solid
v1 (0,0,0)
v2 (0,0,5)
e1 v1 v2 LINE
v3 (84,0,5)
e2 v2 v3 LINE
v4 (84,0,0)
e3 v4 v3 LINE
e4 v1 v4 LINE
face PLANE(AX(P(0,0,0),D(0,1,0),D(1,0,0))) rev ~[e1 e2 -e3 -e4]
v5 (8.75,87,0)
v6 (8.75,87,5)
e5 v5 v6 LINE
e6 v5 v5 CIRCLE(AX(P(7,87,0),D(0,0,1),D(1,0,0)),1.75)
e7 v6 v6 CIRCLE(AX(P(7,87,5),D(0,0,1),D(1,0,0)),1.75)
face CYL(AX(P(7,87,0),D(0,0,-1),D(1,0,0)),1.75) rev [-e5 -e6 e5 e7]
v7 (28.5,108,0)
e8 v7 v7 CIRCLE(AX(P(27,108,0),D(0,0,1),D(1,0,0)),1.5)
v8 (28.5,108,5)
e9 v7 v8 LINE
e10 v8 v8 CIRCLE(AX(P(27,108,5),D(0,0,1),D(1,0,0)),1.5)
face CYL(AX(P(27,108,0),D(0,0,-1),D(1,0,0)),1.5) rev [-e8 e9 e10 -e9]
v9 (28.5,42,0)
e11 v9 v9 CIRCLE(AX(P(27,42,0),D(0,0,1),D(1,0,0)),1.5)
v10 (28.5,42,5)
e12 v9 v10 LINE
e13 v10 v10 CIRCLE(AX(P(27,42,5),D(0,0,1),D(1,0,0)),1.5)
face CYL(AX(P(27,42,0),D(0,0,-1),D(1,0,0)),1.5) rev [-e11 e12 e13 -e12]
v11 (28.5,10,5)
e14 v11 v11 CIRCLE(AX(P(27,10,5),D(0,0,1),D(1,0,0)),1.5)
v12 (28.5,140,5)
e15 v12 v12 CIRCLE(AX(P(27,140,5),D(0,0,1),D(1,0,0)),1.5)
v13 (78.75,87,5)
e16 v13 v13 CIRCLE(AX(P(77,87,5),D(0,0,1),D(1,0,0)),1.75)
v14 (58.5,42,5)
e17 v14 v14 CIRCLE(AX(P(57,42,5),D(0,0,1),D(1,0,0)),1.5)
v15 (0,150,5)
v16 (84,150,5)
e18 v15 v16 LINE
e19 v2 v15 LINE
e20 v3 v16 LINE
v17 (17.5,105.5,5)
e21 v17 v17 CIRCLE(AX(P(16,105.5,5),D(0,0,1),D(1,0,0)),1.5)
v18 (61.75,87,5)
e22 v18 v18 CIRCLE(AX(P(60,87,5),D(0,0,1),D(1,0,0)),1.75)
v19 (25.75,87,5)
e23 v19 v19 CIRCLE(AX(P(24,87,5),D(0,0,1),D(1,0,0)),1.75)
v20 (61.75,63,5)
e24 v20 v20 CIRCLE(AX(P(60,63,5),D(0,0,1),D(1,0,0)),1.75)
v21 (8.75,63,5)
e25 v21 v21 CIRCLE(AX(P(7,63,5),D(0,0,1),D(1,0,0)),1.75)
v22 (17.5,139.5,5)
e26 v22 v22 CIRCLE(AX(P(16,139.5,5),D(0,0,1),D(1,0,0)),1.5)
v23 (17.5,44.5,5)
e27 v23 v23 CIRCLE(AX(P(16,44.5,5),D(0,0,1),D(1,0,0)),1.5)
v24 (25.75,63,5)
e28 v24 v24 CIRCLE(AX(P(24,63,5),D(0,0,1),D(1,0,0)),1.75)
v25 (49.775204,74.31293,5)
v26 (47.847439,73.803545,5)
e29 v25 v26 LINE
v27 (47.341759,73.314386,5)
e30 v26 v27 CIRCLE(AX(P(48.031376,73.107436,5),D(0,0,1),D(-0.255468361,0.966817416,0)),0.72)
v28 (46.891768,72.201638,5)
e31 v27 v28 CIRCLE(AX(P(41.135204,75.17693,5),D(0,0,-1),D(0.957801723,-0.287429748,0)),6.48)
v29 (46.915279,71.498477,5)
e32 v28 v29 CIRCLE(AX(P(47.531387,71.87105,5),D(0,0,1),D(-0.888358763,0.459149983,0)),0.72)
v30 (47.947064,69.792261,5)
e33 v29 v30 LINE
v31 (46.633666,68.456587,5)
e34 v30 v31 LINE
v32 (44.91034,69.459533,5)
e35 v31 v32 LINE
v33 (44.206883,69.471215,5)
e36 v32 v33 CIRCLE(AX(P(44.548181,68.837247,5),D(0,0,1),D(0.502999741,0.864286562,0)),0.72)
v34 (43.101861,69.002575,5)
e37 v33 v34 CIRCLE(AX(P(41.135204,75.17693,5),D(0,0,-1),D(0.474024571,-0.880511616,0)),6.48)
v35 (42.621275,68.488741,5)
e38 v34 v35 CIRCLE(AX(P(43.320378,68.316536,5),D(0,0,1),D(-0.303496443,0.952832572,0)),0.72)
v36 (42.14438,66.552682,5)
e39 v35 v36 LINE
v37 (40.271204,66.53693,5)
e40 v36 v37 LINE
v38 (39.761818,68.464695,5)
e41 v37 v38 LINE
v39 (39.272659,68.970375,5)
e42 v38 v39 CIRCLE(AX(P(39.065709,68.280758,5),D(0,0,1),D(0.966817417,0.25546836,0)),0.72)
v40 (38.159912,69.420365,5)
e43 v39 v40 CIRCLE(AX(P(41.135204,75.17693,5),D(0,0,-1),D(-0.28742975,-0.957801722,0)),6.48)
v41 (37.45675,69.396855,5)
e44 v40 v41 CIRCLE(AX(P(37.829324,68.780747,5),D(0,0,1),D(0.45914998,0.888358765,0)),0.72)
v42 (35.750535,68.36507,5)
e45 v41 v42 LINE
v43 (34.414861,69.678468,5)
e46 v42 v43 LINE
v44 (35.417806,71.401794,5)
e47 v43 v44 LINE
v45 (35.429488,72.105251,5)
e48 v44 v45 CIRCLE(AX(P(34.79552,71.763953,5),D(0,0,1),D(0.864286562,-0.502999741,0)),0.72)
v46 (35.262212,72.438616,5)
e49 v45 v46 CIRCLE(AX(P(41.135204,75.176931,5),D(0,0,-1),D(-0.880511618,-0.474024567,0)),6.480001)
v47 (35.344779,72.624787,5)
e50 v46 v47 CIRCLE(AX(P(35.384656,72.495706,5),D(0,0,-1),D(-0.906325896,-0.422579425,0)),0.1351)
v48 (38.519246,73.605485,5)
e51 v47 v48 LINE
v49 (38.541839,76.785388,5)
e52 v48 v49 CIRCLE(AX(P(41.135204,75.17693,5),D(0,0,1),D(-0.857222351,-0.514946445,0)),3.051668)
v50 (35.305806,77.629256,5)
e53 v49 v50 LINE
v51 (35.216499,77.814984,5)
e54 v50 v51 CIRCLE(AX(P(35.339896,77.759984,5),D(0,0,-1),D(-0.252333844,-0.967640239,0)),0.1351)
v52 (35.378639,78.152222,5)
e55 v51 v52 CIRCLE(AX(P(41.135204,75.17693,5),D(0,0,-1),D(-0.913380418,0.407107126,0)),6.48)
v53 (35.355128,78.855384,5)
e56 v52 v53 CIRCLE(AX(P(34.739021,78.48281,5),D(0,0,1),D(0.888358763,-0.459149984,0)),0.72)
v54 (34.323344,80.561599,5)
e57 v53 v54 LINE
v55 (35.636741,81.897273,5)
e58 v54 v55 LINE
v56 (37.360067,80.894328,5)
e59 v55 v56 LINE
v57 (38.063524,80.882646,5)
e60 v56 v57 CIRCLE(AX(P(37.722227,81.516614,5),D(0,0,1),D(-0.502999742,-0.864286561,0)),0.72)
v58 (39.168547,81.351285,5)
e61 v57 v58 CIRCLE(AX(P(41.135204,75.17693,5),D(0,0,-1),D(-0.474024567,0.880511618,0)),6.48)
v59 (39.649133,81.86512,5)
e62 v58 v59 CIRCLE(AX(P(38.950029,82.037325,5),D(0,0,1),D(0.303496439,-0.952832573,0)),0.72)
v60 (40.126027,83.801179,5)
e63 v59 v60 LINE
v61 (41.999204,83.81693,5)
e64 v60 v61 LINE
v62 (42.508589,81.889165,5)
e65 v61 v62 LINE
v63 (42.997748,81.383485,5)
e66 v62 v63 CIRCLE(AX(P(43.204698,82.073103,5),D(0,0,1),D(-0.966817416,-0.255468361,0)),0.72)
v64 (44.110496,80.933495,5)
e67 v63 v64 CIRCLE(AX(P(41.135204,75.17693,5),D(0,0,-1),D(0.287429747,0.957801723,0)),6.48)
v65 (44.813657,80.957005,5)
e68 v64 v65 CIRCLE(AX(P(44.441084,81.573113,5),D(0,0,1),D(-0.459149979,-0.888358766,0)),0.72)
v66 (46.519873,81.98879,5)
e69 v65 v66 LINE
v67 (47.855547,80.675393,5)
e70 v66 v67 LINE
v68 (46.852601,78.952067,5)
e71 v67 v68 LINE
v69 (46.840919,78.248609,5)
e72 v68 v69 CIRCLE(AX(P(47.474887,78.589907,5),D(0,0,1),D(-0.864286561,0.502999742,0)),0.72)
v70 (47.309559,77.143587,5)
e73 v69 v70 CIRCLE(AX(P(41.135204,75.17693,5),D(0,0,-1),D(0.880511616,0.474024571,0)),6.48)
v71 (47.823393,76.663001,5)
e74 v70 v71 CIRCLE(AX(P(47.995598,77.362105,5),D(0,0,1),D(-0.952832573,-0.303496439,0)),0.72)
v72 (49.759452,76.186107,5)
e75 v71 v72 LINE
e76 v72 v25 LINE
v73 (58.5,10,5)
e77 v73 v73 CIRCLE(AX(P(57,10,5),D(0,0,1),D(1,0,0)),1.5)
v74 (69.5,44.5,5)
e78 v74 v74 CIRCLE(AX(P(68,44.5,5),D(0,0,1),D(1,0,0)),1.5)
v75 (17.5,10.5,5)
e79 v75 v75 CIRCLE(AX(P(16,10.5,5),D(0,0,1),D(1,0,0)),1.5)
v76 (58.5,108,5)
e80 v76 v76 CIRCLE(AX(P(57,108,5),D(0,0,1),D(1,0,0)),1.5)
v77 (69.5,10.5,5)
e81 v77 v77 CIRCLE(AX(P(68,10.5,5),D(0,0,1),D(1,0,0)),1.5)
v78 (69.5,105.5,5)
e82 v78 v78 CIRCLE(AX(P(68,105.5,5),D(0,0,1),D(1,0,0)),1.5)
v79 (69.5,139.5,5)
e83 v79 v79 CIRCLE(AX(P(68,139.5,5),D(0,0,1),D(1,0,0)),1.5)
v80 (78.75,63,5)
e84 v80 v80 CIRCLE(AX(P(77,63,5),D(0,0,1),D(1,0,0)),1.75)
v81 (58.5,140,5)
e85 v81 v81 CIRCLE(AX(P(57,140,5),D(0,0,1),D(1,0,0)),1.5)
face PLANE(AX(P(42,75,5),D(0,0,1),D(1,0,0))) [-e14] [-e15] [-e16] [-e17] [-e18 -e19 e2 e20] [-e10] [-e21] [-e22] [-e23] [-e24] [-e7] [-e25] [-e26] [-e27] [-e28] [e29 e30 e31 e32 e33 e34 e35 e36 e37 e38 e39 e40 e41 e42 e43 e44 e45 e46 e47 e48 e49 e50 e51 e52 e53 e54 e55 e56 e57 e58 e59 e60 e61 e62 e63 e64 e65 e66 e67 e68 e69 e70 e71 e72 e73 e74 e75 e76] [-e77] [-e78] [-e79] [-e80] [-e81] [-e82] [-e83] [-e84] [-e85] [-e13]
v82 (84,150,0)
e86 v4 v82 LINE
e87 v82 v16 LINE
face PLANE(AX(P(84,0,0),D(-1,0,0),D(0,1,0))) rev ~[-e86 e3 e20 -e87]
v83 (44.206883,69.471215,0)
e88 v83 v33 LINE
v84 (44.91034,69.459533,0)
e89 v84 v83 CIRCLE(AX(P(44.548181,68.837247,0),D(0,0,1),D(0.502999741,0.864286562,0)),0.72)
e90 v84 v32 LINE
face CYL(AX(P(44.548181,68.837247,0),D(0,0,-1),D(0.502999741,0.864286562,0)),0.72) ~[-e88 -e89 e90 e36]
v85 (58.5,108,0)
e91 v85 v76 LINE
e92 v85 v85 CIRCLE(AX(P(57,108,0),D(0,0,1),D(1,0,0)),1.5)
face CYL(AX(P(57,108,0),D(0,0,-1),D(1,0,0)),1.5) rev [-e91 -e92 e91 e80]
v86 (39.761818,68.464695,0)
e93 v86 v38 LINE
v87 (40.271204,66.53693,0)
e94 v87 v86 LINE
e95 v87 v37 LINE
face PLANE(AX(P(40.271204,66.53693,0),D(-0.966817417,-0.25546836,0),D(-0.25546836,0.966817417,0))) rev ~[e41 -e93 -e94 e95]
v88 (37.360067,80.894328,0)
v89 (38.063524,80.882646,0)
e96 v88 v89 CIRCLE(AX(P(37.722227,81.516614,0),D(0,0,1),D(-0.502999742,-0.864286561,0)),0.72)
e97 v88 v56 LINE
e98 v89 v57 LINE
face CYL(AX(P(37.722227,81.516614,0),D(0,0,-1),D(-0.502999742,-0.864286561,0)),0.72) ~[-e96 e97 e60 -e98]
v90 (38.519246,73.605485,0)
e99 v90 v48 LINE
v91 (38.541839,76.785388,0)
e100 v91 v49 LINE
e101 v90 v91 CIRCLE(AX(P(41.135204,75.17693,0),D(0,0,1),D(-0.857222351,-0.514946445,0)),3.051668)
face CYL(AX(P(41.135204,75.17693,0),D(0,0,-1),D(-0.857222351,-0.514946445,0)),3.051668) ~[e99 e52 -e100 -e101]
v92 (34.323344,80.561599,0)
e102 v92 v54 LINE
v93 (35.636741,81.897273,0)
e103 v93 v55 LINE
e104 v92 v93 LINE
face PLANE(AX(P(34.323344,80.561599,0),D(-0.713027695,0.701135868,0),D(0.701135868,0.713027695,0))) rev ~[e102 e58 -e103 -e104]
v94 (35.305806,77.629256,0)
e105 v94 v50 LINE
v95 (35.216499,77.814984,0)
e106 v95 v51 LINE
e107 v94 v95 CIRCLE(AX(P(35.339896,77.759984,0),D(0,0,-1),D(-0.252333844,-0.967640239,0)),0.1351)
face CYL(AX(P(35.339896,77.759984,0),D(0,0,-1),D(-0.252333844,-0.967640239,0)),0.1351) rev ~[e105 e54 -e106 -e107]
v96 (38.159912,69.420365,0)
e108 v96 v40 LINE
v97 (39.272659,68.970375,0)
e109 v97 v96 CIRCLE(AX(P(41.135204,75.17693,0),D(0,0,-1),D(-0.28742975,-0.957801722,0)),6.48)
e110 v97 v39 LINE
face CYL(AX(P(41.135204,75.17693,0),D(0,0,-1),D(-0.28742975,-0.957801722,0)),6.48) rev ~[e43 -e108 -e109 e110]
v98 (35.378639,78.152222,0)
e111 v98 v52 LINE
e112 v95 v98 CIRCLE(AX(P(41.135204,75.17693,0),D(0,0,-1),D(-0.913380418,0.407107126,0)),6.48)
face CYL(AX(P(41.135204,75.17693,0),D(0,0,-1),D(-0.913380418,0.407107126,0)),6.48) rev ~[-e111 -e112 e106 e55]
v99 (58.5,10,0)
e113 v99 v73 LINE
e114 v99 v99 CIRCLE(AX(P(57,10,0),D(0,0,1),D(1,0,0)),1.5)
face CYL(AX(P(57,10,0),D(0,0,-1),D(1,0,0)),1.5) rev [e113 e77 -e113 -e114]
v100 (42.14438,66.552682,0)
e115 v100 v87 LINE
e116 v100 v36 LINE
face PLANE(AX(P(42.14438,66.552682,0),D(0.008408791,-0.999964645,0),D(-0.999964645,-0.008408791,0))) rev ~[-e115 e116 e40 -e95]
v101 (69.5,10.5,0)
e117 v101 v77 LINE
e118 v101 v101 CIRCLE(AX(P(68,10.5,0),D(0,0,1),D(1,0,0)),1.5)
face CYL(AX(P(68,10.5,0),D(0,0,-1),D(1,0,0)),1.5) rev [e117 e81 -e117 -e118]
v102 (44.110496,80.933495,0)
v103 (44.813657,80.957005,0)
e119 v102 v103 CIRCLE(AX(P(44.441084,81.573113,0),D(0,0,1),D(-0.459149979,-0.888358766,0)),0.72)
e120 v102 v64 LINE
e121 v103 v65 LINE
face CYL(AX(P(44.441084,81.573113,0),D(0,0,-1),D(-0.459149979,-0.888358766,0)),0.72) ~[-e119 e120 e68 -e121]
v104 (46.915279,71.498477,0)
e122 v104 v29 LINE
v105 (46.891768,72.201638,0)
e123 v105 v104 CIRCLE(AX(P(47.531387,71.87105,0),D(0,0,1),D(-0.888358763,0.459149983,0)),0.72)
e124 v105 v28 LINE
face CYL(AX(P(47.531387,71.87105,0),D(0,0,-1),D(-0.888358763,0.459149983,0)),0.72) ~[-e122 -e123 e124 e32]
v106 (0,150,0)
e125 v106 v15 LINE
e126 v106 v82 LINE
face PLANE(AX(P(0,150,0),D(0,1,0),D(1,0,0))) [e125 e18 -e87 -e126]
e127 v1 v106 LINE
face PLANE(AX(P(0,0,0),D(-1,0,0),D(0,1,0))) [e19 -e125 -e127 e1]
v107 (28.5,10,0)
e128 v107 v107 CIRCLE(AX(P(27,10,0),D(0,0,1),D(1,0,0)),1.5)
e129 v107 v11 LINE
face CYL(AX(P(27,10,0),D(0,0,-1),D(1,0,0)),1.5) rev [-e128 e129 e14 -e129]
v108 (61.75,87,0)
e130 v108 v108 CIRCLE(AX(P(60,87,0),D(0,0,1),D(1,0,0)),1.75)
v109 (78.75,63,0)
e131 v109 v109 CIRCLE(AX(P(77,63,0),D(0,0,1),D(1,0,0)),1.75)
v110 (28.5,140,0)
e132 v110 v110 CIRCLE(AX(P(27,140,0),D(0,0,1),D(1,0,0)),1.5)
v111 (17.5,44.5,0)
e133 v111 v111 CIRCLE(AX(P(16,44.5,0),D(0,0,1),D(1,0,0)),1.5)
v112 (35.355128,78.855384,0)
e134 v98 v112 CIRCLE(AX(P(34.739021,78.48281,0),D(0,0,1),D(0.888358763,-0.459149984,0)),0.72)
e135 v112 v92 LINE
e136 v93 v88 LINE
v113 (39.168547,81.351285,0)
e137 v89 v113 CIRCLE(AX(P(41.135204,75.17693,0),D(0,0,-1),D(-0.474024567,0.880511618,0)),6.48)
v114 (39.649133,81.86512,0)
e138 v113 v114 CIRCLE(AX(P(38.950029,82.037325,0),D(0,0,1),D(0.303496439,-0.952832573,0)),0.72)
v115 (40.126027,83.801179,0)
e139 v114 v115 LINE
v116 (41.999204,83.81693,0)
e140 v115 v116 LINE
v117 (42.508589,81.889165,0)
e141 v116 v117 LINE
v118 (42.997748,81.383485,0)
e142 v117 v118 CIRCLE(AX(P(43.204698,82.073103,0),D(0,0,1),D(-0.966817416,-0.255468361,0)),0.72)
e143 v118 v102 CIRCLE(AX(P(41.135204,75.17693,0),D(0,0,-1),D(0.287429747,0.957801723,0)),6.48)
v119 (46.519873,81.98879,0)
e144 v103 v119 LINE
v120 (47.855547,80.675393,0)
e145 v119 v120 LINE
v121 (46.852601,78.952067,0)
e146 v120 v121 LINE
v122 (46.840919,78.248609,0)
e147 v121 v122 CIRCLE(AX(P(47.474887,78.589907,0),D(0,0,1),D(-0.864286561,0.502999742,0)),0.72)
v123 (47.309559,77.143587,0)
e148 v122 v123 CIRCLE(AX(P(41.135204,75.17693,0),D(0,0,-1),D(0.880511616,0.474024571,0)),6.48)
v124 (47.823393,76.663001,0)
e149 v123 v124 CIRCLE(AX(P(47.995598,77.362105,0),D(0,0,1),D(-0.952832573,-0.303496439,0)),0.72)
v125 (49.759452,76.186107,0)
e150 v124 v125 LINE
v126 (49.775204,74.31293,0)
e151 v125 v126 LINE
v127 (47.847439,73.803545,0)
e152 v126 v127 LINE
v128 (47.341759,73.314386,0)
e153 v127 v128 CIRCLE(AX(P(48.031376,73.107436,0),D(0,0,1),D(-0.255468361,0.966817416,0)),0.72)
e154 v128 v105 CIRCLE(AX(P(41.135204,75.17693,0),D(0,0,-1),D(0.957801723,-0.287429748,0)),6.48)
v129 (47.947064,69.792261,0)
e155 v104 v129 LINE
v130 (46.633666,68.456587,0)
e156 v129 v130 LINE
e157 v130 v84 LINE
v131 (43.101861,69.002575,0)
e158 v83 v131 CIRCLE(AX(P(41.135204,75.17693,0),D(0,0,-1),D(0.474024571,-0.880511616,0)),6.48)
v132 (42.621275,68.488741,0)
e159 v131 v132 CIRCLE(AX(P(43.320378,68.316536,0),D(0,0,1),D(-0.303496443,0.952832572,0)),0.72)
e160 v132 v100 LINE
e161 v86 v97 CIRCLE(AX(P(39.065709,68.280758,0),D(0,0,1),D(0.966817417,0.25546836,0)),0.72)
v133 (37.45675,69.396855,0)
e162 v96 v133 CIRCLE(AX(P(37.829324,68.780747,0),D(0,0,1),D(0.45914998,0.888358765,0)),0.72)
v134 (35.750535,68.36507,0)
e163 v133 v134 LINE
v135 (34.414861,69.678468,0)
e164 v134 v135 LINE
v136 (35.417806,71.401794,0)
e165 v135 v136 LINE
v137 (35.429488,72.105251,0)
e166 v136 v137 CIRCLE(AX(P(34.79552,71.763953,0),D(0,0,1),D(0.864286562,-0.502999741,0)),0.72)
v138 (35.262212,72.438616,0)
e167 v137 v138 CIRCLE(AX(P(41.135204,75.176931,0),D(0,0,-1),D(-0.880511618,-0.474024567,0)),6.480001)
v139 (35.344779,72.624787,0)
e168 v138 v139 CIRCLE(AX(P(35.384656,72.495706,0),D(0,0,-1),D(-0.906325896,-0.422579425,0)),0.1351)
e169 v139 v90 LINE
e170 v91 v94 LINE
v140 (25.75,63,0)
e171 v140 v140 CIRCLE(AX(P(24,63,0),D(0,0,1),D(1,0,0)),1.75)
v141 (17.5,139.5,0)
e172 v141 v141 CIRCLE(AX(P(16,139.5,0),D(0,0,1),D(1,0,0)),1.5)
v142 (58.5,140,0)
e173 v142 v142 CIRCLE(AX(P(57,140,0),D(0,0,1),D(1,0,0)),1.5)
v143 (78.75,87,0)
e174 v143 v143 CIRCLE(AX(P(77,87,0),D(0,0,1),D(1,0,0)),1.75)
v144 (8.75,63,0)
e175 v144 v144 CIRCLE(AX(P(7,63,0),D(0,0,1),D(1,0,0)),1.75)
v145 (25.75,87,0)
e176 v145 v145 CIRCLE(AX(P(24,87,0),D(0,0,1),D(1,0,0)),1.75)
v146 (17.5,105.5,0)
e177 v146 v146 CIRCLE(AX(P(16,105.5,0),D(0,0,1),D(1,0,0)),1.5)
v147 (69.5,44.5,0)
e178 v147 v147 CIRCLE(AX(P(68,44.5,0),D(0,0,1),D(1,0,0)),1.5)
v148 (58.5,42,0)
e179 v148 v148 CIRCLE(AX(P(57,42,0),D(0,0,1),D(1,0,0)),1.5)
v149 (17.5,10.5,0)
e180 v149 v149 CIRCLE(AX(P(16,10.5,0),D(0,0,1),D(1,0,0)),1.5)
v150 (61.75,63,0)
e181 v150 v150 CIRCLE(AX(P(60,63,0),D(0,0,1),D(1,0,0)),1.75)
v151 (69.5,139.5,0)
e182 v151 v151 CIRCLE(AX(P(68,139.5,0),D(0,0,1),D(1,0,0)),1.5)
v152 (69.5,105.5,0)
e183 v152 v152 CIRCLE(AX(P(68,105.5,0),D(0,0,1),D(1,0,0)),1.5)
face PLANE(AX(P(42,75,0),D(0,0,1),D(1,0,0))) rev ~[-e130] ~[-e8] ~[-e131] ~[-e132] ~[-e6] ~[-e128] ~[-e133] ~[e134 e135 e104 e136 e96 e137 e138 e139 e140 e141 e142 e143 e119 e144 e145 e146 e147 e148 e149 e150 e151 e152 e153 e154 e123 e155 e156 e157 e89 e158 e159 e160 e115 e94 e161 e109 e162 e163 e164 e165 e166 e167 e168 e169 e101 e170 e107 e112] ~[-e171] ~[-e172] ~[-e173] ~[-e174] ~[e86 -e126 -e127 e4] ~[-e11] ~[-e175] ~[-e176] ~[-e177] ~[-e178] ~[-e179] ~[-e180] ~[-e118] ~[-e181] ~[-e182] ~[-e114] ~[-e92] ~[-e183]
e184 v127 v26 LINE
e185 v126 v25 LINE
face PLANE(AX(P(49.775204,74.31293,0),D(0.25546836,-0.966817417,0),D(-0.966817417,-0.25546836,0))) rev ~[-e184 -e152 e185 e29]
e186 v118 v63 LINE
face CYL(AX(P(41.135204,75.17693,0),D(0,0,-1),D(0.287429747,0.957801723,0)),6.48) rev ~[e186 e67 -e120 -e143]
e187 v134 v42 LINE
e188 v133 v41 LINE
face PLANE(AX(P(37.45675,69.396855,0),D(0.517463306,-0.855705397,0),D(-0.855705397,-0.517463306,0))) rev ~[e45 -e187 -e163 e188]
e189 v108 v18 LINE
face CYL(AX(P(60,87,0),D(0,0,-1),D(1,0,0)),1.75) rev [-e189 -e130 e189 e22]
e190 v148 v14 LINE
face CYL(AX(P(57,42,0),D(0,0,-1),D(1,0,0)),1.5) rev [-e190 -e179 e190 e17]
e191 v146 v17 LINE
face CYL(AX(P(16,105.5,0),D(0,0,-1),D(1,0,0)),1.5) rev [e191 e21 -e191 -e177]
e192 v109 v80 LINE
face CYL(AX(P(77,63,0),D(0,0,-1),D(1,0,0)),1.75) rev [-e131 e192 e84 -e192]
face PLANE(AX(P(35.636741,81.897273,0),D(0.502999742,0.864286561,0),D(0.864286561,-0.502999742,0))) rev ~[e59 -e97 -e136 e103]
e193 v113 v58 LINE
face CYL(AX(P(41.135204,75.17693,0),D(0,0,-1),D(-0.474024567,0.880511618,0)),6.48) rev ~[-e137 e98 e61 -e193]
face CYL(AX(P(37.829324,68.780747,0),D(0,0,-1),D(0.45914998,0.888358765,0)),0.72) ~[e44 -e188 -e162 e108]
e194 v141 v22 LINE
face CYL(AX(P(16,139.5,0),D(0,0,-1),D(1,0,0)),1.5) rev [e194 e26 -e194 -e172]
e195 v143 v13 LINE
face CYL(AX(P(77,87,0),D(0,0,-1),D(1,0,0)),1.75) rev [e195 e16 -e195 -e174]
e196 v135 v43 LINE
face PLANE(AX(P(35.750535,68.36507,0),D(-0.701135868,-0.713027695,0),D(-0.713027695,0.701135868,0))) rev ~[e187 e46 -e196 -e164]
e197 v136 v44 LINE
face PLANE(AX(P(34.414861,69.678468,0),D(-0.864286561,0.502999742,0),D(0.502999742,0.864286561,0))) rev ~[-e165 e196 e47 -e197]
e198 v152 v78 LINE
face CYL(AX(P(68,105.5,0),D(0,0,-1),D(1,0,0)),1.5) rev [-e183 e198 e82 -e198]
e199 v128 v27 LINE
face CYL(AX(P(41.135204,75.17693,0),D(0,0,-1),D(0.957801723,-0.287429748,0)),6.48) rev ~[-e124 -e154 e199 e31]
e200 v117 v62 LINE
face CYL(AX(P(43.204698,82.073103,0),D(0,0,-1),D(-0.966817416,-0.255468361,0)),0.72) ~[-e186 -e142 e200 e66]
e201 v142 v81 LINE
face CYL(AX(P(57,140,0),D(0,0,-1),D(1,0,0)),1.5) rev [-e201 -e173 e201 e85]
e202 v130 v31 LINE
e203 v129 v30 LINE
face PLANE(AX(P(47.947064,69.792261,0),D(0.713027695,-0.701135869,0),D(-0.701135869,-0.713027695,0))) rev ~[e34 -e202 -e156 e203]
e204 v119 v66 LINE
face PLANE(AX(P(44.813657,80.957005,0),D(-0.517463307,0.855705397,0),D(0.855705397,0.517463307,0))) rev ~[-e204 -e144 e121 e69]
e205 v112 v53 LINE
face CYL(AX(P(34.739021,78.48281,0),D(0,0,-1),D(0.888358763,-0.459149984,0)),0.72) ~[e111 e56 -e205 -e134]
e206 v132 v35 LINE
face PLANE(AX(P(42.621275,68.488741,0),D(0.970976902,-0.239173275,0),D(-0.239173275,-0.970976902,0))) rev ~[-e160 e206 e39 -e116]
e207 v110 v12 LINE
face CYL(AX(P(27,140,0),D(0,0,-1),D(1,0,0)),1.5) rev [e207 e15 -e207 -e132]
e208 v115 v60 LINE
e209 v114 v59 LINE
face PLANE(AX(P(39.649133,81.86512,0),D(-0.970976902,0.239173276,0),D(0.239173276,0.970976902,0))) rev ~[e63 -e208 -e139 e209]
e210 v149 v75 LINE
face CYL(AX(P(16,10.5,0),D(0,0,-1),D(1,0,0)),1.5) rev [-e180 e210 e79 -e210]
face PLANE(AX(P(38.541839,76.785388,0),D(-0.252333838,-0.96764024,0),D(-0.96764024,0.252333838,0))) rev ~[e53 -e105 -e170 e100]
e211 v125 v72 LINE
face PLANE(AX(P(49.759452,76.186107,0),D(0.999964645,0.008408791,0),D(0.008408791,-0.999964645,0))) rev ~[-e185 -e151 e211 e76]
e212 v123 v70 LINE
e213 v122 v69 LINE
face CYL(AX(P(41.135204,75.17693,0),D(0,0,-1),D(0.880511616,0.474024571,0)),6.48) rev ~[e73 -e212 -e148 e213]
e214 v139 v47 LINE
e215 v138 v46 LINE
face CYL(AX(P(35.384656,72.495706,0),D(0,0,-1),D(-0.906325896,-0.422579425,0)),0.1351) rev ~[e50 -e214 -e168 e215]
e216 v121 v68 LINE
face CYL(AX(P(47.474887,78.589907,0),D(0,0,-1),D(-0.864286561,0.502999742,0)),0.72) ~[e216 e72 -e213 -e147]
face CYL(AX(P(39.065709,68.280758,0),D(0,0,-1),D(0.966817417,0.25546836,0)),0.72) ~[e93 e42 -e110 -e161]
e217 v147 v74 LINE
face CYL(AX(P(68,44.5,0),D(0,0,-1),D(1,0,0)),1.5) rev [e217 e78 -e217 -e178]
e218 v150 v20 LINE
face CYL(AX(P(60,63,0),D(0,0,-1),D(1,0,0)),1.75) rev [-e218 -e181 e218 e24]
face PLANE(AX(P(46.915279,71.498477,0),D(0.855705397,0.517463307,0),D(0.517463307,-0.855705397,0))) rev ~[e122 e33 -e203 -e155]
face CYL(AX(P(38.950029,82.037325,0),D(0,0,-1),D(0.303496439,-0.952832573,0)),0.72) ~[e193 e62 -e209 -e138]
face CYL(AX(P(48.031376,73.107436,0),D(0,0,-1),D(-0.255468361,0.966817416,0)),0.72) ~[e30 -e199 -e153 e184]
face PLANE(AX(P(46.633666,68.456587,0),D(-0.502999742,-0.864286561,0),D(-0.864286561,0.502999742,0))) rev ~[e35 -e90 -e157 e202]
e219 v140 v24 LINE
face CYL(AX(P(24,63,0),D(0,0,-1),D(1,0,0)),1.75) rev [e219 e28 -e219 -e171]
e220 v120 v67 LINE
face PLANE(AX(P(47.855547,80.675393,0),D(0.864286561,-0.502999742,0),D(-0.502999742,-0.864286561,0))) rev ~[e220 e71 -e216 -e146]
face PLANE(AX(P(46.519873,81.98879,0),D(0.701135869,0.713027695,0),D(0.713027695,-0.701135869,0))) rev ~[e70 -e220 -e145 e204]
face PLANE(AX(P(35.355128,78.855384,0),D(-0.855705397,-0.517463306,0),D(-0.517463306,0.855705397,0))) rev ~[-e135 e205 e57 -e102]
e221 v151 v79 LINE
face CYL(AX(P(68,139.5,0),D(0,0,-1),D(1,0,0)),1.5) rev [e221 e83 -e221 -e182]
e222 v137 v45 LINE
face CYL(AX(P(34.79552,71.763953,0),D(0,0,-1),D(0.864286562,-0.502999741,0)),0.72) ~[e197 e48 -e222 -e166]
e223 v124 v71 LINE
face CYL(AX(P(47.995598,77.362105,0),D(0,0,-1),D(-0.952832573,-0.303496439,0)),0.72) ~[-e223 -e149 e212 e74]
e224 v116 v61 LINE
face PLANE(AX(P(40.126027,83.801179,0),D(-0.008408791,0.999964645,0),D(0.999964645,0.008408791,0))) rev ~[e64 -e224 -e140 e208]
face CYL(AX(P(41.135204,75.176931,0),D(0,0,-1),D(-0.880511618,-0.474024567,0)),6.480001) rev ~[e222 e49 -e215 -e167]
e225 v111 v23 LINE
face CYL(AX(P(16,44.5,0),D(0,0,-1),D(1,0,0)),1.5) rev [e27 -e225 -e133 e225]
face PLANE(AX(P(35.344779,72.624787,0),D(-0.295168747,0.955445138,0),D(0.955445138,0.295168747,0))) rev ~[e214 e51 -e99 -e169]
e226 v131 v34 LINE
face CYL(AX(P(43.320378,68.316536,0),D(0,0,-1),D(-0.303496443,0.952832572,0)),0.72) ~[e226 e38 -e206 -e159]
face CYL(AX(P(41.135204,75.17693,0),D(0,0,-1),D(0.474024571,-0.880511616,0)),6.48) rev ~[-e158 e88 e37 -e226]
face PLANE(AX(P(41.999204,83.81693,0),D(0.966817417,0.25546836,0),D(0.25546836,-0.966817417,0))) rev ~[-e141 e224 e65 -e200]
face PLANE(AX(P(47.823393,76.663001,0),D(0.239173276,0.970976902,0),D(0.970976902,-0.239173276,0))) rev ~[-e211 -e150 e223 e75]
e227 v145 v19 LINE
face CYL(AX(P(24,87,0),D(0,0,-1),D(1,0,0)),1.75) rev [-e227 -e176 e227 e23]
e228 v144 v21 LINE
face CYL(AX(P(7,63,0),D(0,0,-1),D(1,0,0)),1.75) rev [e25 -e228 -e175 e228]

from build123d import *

# Parameters (mm, degrees)
CROQUIS1_W              = 84
CROQUIS1_H              = 150
CROQUIS1_R              = 1.5
CROQUIS1_R_2            = 1.75
SALIENTE_EXTRUIR1_DEPTH = 5


with BuildPart() as part:
    # Croquis1 → Saliente-Extruir1 (new body)
    with BuildSketch(Plane.XY):
        with Locations((42, 75)):
            Rectangle(CROQUIS1_W, CROQUIS1_H)
        with Locations((27, 108)):
            Circle(CROQUIS1_R, mode=Mode.SUBTRACT)
        with Locations((57, 108)):
            Circle(CROQUIS1_R, mode=Mode.SUBTRACT)
        with Locations((16, 139.5)):
            Circle(CROQUIS1_R, mode=Mode.SUBTRACT)
        with Locations((16, 105.5)):
            Circle(CROQUIS1_R, mode=Mode.SUBTRACT)
        with Locations((68, 105.5)):
            Circle(CROQUIS1_R, mode=Mode.SUBTRACT)
        with Locations((68, 139.5)):
            Circle(CROQUIS1_R, mode=Mode.SUBTRACT)
        with Locations((68, 44.5)):
            Circle(CROQUIS1_R, mode=Mode.SUBTRACT)
        with Locations((68, 10.5)):
            Circle(CROQUIS1_R, mode=Mode.SUBTRACT)
        with Locations((16, 10.5)):
            Circle(CROQUIS1_R, mode=Mode.SUBTRACT)
        with Locations((16, 44.5)):
            Circle(CROQUIS1_R, mode=Mode.SUBTRACT)
        with Locations((7, 87)):
            Circle(CROQUIS1_R_2, mode=Mode.SUBTRACT)
        with Locations((24, 87)):
            Circle(CROQUIS1_R_2, mode=Mode.SUBTRACT)
        with Locations((24, 63)):
            Circle(CROQUIS1_R_2, mode=Mode.SUBTRACT)
        with Locations((7, 63)):
            Circle(CROQUIS1_R_2, mode=Mode.SUBTRACT)
        with Locations((60, 63)):
            Circle(CROQUIS1_R_2, mode=Mode.SUBTRACT)
        with Locations((60, 87)):
            Circle(CROQUIS1_R_2, mode=Mode.SUBTRACT)
        with Locations((77, 63)):
            Circle(CROQUIS1_R_2, mode=Mode.SUBTRACT)
        with Locations((77, 87)):
            Circle(CROQUIS1_R_2, mode=Mode.SUBTRACT)
        with Locations((27, 140)):
            Circle(CROQUIS1_R, mode=Mode.SUBTRACT)
        with Locations((57, 140)):
            Circle(CROQUIS1_R, mode=Mode.SUBTRACT)
        with Locations((57, 42)):
            Circle(CROQUIS1_R, mode=Mode.SUBTRACT)
        with Locations((27, 42)):
            Circle(CROQUIS1_R, mode=Mode.SUBTRACT)
        with Locations((57, 10)):
            Circle(CROQUIS1_R, mode=Mode.SUBTRACT)
        with Locations((27, 10)):
            Circle(CROQUIS1_R, mode=Mode.SUBTRACT)
        with BuildLine():
            Line((34.323343601, 80.561599107), (35.636741331, 81.897273116))
            Line((35.636741331, 81.897273116), (37.36006695, 80.894327587))
            ThreePointArc((37.36006695, 80.894327587), (37.710271658, 80.796713171), (38.063524454, 80.882645547))
            ThreePointArc((38.063524454, 80.882645547), (38.605161451, 81.142605955), (39.168546725, 81.351285335))
            ThreePointArc((39.168546725, 81.351285335), (39.475874806, 81.545505215), (39.649132657, 81.865120028))
            Line((39.649132657, 81.865120028), (40.126027071, 83.80117856))
            Line((40.126027071, 83.80117856), (41.999203662, 83.816930268))
            Line((41.999203662, 83.816930268), (42.508589309, 81.889165452))
            ThreePointArc((42.508589309, 81.889165452), (42.687197617, 81.572509513), (42.99774843, 81.38348543))
            ThreePointArc((42.99774843, 81.38348543), (43.564563391, 81.184310005), (44.110495542, 80.933495061))
            ThreePointArc((44.110495542, 80.933495061), (44.465143507, 80.853515486), (44.81365711, 80.957005486))
            Line((44.81365711, 80.957005486), (46.519872501, 81.988790329))
            Line((46.519872501, 81.988790329), (47.85554651, 80.675392598))
            Line((47.85554651, 80.675392598), (46.852600981, 78.952066979))
            ThreePointArc((46.852600981, 78.952066979), (46.754986565, 78.601862272), (46.840918941, 78.248609475))
            ThreePointArc((46.840918941, 78.248609475), (47.10087935, 77.706972479), (47.309558729, 77.143587205))
            ThreePointArc((47.309558729, 77.143587205), (47.503778609, 76.836259124), (47.823393422, 76.663001273))
            Line((47.823393422, 76.663001273), (49.759451954, 76.186106858))
            Line((49.759451954, 76.186106858), (49.775203662, 74.312930268))
            Line((49.775203662, 74.312930268), (47.847438846, 73.803544621))
            ThreePointArc((47.847438846, 73.803544621), (47.530782907, 73.624936313), (47.341758824, 73.3143855))
            ThreePointArc((47.341758824, 73.3143855), (47.142583399, 72.747570539), (46.891768456, 72.201638387))
            ThreePointArc((46.891768456, 72.201638387), (46.81178888, 71.846990422), (46.91527888, 71.49847682))
            Line((46.91527888, 71.49847682), (47.947063723, 69.792261428))
            Line((47.947063723, 69.792261428), (46.633665992, 68.456587419))
            Line((46.633665992, 68.456587419), (44.910340373, 69.459532948))
            ThreePointArc((44.910340373, 69.459532948), (44.560135666, 69.557147364), (44.206882869, 69.471214989))
            ThreePointArc((44.206882869, 69.471214989), (43.665245873, 69.21125458), (43.101860599, 69.002575201))
            ThreePointArc((43.101860599, 69.002575201), (42.794532518, 68.80835532), (42.621274667, 68.488740508))
            Line((42.621274667, 68.488740508), (42.144380253, 66.552681975))
            Line((42.144380253, 66.552681975), (40.271203662, 66.536930268))
            Line((40.271203662, 66.536930268), (39.761818015, 68.464695084))
            ThreePointArc((39.761818015, 68.464695084), (39.583209707, 68.781351023), (39.272658894, 68.970375105))
            ThreePointArc((39.272658894, 68.970375105), (38.705843933, 69.169550531), (38.159911781, 69.420365474))
            ThreePointArc((38.159911781, 69.420365474), (37.805263816, 69.500345049), (37.456750214, 69.396855049))
            Line((37.456750214, 69.396855049), (35.750534822, 68.365070207))
            Line((35.750534822, 68.365070207), (34.414860813, 69.678467937))
            Line((34.414860813, 69.678467937), (35.417806342, 71.401793556))
            ThreePointArc((35.417806342, 71.401793556), (35.515420758, 71.751998264), (35.429488383, 72.10525106))
            ThreePointArc((35.429488383, 72.10525106), (35.343451134, 72.270729543), (35.262211867, 72.438615571))
            ThreePointArc((35.262211867, 72.438615571), (35.261157414, 72.550478141), (35.344779164, 72.624786614))
            Line((35.344779164, 72.624786614), (38.519245985, 73.605484883))
            ThreePointArc((38.519245985, 73.605484883), (44.186794242, 75.155248619), (38.541839298, 76.785388052))
            Line((38.541839298, 76.785388052), (35.305805909, 77.629256147))
            ThreePointArc((35.305805909, 77.629256147), (35.21814086, 77.701438299), (35.216498552, 77.814984441))
            ThreePointArc((35.216498552, 77.814984441), (35.295133958, 77.984773898), (35.378638868, 78.152222148))
            ThreePointArc((35.378638868, 78.152222148), (35.458618444, 78.506870113), (35.355128443, 78.855383716))
            Line((35.355128443, 78.855383716), (34.323343601, 80.561599107))
        make_face(mode=Mode.SUBTRACT)
    extrude(amount=SALIENTE_EXTRUIR1_DEPTH)


solid = part.part
